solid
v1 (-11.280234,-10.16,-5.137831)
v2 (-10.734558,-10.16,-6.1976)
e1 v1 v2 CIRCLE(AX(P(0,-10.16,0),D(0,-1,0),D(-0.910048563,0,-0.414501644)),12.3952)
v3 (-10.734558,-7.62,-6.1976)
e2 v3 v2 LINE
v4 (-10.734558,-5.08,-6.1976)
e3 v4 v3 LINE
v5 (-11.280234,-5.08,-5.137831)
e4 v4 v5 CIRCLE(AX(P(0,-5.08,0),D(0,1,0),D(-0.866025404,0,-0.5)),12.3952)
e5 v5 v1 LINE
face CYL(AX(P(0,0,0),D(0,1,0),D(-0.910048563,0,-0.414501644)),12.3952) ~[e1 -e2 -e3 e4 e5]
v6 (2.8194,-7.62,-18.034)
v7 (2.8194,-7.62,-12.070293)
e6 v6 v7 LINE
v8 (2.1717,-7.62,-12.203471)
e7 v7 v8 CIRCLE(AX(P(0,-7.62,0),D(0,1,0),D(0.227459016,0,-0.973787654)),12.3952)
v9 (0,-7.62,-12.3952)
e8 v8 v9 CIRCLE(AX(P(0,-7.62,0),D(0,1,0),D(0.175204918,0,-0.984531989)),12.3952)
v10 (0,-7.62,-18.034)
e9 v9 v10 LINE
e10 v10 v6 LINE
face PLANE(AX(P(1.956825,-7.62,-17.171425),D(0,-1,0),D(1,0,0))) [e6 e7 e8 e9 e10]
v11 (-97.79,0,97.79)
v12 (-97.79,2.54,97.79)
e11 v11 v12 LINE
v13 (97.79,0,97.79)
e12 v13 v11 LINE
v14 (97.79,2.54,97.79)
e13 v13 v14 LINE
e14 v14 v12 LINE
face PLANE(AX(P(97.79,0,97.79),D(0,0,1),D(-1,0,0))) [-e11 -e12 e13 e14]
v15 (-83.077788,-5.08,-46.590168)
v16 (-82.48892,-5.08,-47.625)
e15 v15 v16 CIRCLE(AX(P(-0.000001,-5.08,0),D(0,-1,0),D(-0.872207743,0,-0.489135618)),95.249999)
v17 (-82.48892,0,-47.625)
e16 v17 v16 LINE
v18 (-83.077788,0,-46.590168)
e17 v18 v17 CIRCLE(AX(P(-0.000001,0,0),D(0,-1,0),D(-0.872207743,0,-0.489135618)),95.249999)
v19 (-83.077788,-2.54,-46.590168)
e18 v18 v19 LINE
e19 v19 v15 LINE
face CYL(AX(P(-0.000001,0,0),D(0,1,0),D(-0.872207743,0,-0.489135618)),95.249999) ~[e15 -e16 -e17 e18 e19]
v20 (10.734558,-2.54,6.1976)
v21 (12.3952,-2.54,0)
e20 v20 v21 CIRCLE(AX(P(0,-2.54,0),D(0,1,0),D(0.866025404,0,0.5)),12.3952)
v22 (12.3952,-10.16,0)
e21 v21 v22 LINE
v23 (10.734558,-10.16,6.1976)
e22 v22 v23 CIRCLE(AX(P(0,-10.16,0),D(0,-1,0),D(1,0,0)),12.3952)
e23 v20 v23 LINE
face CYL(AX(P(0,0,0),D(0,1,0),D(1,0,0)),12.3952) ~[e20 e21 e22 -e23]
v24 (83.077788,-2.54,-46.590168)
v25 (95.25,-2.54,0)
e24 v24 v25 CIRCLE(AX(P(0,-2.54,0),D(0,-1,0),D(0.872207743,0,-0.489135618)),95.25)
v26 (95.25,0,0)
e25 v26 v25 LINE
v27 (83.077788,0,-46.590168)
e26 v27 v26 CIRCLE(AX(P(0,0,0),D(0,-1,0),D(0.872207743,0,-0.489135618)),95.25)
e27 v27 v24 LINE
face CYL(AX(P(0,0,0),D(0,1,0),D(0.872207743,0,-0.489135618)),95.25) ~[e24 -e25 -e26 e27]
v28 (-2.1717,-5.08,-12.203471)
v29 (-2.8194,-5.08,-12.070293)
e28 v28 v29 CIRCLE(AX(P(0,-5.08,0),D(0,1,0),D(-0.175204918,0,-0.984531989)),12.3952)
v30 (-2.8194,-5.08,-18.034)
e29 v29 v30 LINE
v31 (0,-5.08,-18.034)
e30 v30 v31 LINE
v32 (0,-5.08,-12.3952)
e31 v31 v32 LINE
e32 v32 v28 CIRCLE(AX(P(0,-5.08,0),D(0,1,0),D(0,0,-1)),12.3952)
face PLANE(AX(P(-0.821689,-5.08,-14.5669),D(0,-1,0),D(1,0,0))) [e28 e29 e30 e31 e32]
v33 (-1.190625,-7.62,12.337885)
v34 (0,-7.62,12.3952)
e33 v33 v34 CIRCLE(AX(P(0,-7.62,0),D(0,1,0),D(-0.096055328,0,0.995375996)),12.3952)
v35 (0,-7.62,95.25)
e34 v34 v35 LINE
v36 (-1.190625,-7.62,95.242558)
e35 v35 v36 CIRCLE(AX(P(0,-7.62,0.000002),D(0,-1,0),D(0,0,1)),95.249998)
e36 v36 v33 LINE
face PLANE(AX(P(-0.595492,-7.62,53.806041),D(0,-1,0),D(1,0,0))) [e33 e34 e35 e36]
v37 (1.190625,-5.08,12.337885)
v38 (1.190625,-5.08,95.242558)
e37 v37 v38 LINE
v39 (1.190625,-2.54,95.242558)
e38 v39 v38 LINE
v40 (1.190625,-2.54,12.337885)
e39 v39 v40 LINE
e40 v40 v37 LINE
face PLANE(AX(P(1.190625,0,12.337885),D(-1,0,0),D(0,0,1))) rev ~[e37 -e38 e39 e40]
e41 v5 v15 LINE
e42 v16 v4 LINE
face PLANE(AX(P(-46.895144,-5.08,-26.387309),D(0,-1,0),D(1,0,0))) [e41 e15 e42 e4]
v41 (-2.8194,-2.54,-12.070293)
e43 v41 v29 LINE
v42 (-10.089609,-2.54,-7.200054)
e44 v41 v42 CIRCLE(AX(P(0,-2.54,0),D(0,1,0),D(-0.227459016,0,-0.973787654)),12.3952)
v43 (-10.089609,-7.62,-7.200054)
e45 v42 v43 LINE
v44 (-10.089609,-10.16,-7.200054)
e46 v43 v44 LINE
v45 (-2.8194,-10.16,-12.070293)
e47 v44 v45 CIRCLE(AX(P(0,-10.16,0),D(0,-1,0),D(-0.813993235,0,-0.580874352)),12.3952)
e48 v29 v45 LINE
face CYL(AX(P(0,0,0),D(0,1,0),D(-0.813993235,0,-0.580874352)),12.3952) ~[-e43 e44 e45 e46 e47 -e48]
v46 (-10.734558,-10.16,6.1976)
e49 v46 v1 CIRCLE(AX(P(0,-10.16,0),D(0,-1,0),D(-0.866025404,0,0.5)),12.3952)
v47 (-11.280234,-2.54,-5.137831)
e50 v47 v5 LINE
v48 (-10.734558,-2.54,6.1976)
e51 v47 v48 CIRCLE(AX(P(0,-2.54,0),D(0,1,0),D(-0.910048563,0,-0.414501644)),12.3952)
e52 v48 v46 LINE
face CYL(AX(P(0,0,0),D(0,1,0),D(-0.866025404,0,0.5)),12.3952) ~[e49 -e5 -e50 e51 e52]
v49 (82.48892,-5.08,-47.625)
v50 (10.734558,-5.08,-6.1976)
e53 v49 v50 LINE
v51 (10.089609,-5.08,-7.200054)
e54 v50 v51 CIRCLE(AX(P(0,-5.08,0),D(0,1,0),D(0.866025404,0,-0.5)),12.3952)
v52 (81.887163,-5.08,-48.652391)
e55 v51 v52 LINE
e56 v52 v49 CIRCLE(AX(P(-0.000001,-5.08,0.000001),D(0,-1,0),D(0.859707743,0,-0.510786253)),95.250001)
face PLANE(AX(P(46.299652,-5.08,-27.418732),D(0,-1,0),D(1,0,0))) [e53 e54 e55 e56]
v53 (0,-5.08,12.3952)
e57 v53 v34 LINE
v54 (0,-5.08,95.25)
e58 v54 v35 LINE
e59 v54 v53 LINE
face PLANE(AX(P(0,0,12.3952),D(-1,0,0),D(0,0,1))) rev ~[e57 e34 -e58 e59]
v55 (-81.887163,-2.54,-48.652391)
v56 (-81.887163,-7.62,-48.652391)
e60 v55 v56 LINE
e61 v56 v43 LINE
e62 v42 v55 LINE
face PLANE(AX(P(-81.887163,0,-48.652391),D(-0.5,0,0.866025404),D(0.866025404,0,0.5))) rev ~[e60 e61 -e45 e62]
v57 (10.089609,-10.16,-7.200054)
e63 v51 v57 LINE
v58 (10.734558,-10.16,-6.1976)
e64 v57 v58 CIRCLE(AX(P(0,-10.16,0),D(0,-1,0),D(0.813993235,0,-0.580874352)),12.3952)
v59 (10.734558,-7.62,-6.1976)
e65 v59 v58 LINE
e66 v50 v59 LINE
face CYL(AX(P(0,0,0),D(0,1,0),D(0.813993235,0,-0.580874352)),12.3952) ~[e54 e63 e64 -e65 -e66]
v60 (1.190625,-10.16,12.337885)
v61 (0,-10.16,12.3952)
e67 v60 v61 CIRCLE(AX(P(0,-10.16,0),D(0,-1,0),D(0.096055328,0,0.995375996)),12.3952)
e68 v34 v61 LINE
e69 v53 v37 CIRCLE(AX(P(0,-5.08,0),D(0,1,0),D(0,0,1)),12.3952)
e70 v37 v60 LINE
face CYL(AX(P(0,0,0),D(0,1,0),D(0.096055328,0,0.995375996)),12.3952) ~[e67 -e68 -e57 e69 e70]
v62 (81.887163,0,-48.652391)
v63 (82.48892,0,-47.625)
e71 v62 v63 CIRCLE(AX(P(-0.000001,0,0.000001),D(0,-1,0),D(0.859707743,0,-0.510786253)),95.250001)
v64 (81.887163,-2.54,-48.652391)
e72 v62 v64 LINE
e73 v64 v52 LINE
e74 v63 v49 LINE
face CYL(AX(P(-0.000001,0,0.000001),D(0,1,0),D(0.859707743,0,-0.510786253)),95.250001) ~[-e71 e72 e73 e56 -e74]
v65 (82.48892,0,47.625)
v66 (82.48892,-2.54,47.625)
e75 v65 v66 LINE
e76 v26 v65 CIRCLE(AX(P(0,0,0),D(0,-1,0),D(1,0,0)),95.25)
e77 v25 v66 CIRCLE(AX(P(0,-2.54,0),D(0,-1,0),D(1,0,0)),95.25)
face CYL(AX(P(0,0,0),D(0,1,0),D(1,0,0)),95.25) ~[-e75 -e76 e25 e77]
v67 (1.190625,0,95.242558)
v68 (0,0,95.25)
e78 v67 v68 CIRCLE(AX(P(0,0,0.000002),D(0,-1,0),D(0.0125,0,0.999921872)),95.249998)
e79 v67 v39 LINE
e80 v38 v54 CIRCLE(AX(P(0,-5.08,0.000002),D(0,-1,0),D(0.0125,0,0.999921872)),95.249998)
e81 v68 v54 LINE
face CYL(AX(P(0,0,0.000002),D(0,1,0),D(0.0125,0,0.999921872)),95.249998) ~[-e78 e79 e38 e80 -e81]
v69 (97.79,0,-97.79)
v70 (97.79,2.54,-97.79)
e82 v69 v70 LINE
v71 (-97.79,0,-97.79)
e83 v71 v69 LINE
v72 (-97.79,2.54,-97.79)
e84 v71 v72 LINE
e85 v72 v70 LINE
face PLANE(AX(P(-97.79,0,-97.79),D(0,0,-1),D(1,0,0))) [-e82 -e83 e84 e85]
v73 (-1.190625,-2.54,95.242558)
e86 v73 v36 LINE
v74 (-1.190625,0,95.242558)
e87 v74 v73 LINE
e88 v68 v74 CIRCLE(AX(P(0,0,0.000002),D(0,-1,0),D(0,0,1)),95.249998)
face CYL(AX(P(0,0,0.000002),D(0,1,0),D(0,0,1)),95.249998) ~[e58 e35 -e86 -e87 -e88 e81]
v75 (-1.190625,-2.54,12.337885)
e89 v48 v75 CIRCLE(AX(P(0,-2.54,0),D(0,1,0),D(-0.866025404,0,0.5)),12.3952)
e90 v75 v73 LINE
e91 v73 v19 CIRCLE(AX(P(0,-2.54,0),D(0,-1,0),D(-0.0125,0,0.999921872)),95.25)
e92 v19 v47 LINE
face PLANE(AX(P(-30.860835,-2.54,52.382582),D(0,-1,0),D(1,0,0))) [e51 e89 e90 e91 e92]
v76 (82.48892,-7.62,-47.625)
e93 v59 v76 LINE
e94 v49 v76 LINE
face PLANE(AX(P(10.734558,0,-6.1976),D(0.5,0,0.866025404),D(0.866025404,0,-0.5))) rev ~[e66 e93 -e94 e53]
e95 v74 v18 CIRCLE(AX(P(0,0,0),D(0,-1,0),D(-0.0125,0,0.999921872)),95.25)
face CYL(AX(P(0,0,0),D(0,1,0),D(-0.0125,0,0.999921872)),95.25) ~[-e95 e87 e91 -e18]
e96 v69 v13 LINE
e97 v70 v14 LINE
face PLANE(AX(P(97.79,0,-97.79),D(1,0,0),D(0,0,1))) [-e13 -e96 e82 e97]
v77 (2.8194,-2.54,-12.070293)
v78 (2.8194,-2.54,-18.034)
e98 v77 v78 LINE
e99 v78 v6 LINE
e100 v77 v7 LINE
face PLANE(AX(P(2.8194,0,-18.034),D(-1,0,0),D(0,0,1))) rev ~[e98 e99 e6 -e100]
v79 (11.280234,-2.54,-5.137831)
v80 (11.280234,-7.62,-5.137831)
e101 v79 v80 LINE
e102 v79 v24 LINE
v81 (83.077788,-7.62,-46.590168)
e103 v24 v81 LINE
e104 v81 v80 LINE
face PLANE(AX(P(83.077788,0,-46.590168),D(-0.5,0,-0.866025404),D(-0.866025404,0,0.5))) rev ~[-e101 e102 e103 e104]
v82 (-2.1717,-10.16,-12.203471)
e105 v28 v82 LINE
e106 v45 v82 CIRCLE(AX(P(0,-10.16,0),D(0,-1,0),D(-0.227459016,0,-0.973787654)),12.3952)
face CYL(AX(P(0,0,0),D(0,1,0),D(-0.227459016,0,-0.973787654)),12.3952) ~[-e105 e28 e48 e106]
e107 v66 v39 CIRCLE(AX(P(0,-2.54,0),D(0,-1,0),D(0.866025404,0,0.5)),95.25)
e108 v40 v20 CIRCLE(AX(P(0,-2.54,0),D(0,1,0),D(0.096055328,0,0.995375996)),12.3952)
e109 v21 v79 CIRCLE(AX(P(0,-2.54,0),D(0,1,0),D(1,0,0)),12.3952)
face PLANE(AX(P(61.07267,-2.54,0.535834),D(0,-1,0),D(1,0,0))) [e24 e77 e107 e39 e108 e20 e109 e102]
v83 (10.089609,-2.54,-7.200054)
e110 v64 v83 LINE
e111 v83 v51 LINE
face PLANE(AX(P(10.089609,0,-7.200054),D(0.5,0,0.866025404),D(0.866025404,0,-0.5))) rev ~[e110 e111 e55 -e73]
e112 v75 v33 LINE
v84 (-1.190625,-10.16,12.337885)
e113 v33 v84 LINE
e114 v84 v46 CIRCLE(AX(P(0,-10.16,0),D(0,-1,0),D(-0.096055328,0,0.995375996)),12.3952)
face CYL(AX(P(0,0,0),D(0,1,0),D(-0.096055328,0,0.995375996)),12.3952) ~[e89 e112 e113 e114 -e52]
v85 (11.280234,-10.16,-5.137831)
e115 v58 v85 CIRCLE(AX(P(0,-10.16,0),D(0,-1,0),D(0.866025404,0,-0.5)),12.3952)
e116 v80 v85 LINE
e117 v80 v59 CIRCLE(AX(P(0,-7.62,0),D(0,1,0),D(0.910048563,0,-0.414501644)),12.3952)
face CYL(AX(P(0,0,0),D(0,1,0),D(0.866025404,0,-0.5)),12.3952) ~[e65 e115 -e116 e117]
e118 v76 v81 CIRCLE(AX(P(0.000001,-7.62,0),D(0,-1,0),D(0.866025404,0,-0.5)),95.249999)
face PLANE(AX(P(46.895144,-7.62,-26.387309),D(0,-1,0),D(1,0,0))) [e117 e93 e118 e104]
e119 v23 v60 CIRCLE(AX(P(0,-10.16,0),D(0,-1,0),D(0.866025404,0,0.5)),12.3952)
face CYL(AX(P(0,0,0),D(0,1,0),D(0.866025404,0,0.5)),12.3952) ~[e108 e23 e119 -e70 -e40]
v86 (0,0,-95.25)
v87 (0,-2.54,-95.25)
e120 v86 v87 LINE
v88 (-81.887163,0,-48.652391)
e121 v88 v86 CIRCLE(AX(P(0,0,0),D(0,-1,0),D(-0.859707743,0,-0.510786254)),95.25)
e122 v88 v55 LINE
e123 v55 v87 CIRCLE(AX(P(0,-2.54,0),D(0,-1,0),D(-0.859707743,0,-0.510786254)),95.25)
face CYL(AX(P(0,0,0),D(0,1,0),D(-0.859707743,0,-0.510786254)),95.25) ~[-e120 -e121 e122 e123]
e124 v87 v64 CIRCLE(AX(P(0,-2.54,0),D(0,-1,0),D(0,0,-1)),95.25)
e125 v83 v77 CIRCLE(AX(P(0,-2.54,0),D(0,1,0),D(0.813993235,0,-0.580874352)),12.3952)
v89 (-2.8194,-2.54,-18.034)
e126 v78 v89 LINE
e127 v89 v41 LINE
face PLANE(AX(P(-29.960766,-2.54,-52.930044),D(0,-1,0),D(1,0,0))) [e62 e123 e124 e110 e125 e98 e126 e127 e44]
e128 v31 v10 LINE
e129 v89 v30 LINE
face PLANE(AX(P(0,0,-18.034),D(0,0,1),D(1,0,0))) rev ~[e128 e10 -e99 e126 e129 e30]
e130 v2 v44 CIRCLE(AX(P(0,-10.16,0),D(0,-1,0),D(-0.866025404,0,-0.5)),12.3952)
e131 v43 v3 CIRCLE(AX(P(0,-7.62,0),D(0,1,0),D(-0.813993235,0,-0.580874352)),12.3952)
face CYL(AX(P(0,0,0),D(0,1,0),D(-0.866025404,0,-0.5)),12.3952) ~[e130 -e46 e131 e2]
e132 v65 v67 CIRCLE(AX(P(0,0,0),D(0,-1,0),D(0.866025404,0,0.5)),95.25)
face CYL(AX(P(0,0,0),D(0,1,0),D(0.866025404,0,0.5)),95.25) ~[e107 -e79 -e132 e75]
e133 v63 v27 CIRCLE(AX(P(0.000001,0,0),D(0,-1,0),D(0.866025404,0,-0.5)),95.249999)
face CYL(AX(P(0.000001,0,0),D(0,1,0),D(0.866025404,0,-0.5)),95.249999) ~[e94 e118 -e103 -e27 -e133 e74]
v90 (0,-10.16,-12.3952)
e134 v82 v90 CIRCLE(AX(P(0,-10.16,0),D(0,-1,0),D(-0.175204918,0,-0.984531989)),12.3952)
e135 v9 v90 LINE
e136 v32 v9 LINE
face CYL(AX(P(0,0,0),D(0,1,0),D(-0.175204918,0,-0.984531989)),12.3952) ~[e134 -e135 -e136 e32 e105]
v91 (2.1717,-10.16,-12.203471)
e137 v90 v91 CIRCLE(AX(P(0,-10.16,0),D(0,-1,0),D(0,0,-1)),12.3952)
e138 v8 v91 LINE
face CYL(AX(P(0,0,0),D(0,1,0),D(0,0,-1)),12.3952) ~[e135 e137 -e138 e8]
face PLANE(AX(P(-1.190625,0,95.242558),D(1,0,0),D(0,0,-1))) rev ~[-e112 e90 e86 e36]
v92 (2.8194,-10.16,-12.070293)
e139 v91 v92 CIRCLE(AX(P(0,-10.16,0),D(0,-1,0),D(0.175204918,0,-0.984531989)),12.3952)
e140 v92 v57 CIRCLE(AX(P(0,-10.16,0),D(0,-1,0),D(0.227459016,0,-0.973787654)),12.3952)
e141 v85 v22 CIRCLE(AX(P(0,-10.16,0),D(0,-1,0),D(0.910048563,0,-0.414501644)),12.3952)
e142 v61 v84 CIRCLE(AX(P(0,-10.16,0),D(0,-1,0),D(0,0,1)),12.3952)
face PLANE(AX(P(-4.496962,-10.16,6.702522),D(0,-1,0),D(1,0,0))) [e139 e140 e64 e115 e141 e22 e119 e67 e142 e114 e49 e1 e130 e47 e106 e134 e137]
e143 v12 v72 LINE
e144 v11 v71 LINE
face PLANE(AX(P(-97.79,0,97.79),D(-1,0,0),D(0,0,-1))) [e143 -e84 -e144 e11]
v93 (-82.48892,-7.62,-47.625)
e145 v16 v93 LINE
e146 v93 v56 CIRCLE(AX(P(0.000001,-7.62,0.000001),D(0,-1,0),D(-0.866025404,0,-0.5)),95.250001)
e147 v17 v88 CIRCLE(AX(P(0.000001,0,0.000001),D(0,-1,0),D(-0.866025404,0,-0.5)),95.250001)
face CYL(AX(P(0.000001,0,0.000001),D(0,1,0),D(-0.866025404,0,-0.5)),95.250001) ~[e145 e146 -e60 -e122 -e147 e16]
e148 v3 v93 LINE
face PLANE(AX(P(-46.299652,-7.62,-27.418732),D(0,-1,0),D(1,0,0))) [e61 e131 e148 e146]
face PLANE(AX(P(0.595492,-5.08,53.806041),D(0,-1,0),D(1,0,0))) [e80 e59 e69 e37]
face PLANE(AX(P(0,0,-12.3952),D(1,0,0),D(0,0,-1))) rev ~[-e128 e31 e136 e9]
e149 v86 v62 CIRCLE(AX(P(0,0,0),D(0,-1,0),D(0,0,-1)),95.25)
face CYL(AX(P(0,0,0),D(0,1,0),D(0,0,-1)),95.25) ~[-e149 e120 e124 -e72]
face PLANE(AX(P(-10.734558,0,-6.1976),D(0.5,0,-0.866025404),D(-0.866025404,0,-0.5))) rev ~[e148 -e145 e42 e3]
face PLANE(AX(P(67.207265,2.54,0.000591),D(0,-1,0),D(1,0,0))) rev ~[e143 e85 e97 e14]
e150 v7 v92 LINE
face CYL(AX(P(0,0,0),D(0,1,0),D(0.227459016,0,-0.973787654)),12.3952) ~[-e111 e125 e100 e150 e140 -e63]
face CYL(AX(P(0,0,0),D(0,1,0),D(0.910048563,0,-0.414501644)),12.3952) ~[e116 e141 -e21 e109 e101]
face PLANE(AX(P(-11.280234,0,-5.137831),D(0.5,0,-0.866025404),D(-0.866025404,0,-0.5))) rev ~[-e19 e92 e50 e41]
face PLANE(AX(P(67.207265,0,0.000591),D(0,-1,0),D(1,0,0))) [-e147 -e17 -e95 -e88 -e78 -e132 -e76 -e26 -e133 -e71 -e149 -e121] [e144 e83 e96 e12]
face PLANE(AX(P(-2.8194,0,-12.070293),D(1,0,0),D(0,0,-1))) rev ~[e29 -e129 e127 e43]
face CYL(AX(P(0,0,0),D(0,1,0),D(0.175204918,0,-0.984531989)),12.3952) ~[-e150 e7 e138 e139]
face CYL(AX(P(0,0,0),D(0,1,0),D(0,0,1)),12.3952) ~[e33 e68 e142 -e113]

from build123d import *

# Parameters (mm, degrees)
F1_DEPTH = 2.54
F2_DEPTH = 5.08
F3_DEPTH = 2.54
F4_DEPTH = 7.62
F5_DEPTH = 10.16


with BuildPart() as f1:
    # F0 (on Front) → F1 (new body)
    with BuildSketch(Plane.XZ):
        with BuildLine():
            ThreePointArc((82.4889197105, 47.625), (92.004434954, 24.652514046), (95.25, 0))
            ThreePointArc((95.25, 0), (92.156719127, -24.0769935778), (83.0777875119, -46.5901676551))
            ThreePointArc((83.0777875119, -46.5901676551), (82.7849705841, -47.1085039605), (82.4889197105, -47.625))
            ThreePointArc((82.4889197105, -47.625), (82.1896464561, -48.1396355971), (81.8871625119, -48.6523906479))
            ThreePointArc((81.8871625119, -48.6523906479), (47.1085039605, -82.7849705841), (0, -95.25))
            Line((0, -95.25), (0, -97.79))
            Line((0, -97.79), (97.79, -97.79))
            Line((97.79, -97.79), (97.79, 97.79))
            Line((97.79, 97.79), (0, 97.79))
            Line((0, 97.79), (0, 95.25))
            ThreePointArc((0, 95.25), (0.595324128, 95.2481395576), (1.190625, 95.242558303))
            ThreePointArc((1.190625, 95.242558303), (48.1396355971, 82.1896464561), (82.4889197105, 47.625))
        make_face()
        with BuildLine():
            ThreePointArc((-1.190625, 95.242558303), (-0.595324128, 95.2481395576), (0, 95.25))
            Line((0, 95.25), (0, 97.79))
            Line((0, 97.79), (-97.79, 97.79))
            Line((-97.79, 97.79), (-97.79, -97.79))
            Line((-97.79, -97.79), (0, -97.79))
            Line((0, -97.79), (0, -95.25))
            ThreePointArc((0, -95.25), (-47.1085039605, -82.7849705841), (-81.8871625119, -48.6523906479))
            ThreePointArc((-81.8871625119, -48.6523906479), (-82.1896464561, -48.1396355971), (-82.4889197105, -47.625))
            ThreePointArc((-82.4889197105, -47.625), (-82.7849705841, -47.1085039605), (-83.0777875119, -46.5901676551))
            ThreePointArc((-83.0777875119, -46.5901676551), (-95.2481395576, 0.595324128), (-82.4889197105, 47.625))
            ThreePointArc((-82.4889197105, 47.625), (-48.1396355971, 82.1896464561), (-1.190625, 95.242558303))
        make_face()
        with BuildLine():
            Line((-1.190625, 12.3378845492), (-1.190625, 95.242558303))
            ThreePointArc((-1.190625, 95.242558303), (-48.1396355971, 82.1896464561), (-82.4889197105, 47.625))
            Line((-82.4889197105, 47.625), (-10.734558085, 6.1976))
            ThreePointArc((-10.734558085, 6.1976), (-6.7065841894, 10.4241408064), (-1.190625, 12.3378845492))
        make_face()
        with BuildLine():
            Line((0, -12.3952), (0, -1.3748153285))
            Line((0, -1.3748153285), (-2.1717, -2.6286469081))
            Line((-2.1717, -2.6286469081), (-2.1717, -12.2034709059))
            ThreePointArc((-2.1717, -12.2034709059), (-1.0900734993, -12.3471746892), (0, -12.3952))
        make_face()
        with BuildLine():
            ThreePointArc((0, -95.25), (47.1085039605, -82.7849705841), (81.8871625119, -48.6523906479))
            Line((81.8871625119, -48.6523906479), (10.0896089486, -7.200053771))
            ThreePointArc((10.0896089486, -7.200053771), (6.8985820933, -10.2980846832), (2.8194, -12.0702927338))
            Line((2.8194, -12.0702927338), (2.8194, -15.2146))
            Line((2.8194, -15.2146), (2.8194, -18.034))
            Line((2.8194, -18.034), (0, -18.034))
            Line((0, -18.034), (0, -95.25))
        make_face()
        with BuildLine():
            Line((1.190625, 0.6874076643), (10.734558085, 6.1976))
            ThreePointArc((10.734558085, 6.1976), (6.7065841894, 10.4241408064), (1.190625, 12.3378845492))
            Line((1.190625, 12.3378845492), (1.190625, 0.6874076643))
        make_face()
        with BuildLine():
            Line((-1.190625, 0.6874076643), (-1.190625, 12.3378845492))
            ThreePointArc((-1.190625, 12.3378845492), (-6.7065841894, 10.4241408064), (-10.734558085, 6.1976))
            Line((-10.734558085, 6.1976), (-1.190625, 0.6874076643))
        make_face()
        with BuildLine():
            Line((-2.8194, -3.0025966775), (-10.0896089486, -7.200053771))
            ThreePointArc((-10.0896089486, -7.200053771), (-6.8985820933, -10.2980846832), (-2.8194, -12.0702927338))
            Line((-2.8194, -12.0702927338), (-2.8194, -3.0025966775))
        make_face()
        with BuildLine():
            ThreePointArc((2.8194, -12.0702927338), (6.8985820933, -10.2980846832), (10.0896089486, -7.200053771))
            Line((10.0896089486, -7.200053771), (2.8194, -3.0025966775))
            Line((2.8194, -3.0025966775), (2.8194, -12.0702927338))
        make_face()
        with BuildLine():
            ThreePointArc((-81.8871625119, -48.6523906479), (-47.1085039605, -82.7849705841), (0, -95.25))
            Line((0, -95.25), (0, -18.034))
            Line((0, -18.034), (-2.8194, -18.034))
            Line((-2.8194, -18.034), (-2.8194, -15.2146))
            Line((-2.8194, -15.2146), (-2.8194, -12.0702927338))
            ThreePointArc((-2.8194, -12.0702927338), (-6.8985820933, -10.2980846832), (-10.0896089486, -7.200053771))
            Line((-10.0896089486, -7.200053771), (-81.8871625119, -48.6523906479))
        make_face()
        with BuildLine():
            Line((-10.734558085, 6.1976), (-82.4889197105, 47.625))
            ThreePointArc((-82.4889197105, 47.625), (-95.2481395576, 0.595324128), (-83.0777875119, -46.5901676551))
            Line((-83.0777875119, -46.5901676551), (-11.2802339486, -5.1378307782))
            ThreePointArc((-11.2802339486, -5.1378307782), (-12.3808628456, 0.5960018774), (-10.734558085, 6.1976))
        make_face()
        with BuildLine():
            Line((-2.8194, -0.2529660204), (-1.190625, 0.6874076643))
            Line((-1.190625, 0.6874076643), (-10.734558085, 6.1976))
            ThreePointArc((-10.734558085, 6.1976), (-12.3808628456, 0.5960018774), (-11.2802339486, -5.1378307782))
            Line((-11.2802339486, -5.1378307782), (-2.8194, -0.2529660204))
        make_face()
        with BuildLine():
            ThreePointArc((83.0777875119, -46.5901676551), (92.156719127, -24.0769935778), (95.25, 0))
            ThreePointArc((95.25, 0), (92.004434954, 24.652514046), (82.4889197105, 47.625))
            Line((82.4889197105, 47.625), (10.734558085, 6.1976))
            ThreePointArc((10.734558085, 6.1976), (11.972843802, 3.2081138279), (12.3952, 0))
            ThreePointArc((12.3952, 0), (12.1132518111, -2.6287094933), (11.2802339486, -5.1378307782))
            Line((11.2802339486, -5.1378307782), (83.0777875119, -46.5901676551))
        make_face()
        with BuildLine():
            Line((10.734558085, 6.1976), (82.4889197105, 47.625))
            ThreePointArc((82.4889197105, 47.625), (48.1396355971, 82.1896464561), (1.190625, 95.242558303))
            Line((1.190625, 95.242558303), (1.190625, 12.3378845492))
            ThreePointArc((1.190625, 12.3378845492), (6.7065841894, 10.4241408064), (10.734558085, 6.1976))
        make_face()
        with BuildLine():
            ThreePointArc((12.3952, 0), (11.972843802, 3.2081138279), (10.734558085, 6.1976))
            Line((10.734558085, 6.1976), (1.190625, 0.6874076643))
            Line((1.190625, 0.6874076643), (2.8194, -0.2529660204))
            Line((2.8194, -0.2529660204), (11.2802339486, -5.1378307782))
            ThreePointArc((11.2802339486, -5.1378307782), (12.1132518111, -2.6287094933), (12.3952, 0))
        make_face()
        with BuildLine():
            Line((2.1717, -2.6286469081), (0, -1.3748153285))
            Line((0, -1.3748153285), (0, -12.3952))
            ThreePointArc((0, -12.3952), (1.0900734993, -12.3471746892), (2.1717, -12.2034709059))
            Line((2.1717, -12.2034709059), (2.1717, -2.6286469081))
        make_face()
        with BuildLine():
            ThreePointArc((-2.1717, -13.4166190574), (-1.199956018, -12.6633019157), (0, -12.3952))
            ThreePointArc((0, -12.3952), (-1.0900734993, -12.3471746892), (-2.1717, -12.2034709059))
            Line((-2.1717, -12.2034709059), (-2.1717, -13.4166190574))
        make_face()
        with BuildLine():
            ThreePointArc((10.734558085, -6.1976), (11.0201426838, -5.6742786563), (11.2802339486, -5.1378307782))
            Line((11.2802339486, -5.1378307782), (2.8194, -0.2529660204))
            Line((2.8194, -0.2529660204), (2.8194, -1.627781349))
            Line((2.8194, -1.627781349), (10.734558085, -6.1976))
        make_face()
        with BuildLine():
            Line((-2.1717, -12.2034709059), (-2.1717, -2.6286469081))
            Line((-2.1717, -2.6286469081), (-2.8194, -3.0025966775))
            Line((-2.8194, -3.0025966775), (-2.8194, -12.0702927338))
            ThreePointArc((-2.8194, -12.0702927338), (-2.4964382446, -12.1412017169), (-2.1717, -12.2034709059))
        make_face()
        with BuildLine():
            Line((-10.734558085, -6.1976), (-2.8194, -1.627781349))
            Line((-2.8194, -1.627781349), (-2.8194, -0.2529660204))
            Line((-2.8194, -0.2529660204), (-11.2802339486, -5.1378307782))
            ThreePointArc((-11.2802339486, -5.1378307782), (-11.0201426838, -5.6742786563), (-10.734558085, -6.1976))
        make_face()
        with BuildLine():
            Line((1.190625, 0.6874076643), (1.190625, 12.3378845492))
            ThreePointArc((1.190625, 12.3378845492), (0.5960018774, 12.3808628456), (0, 12.3952))
            Line((0, 12.3952), (0, 0))
            Line((0, 0), (1.190625, 0.6874076643))
        make_face()
        with BuildLine():
            Line((-11.2802339486, -5.1378307782), (-83.0777875119, -46.5901676551))
            ThreePointArc((-83.0777875119, -46.5901676551), (-82.7849705841, -47.1085039605), (-82.4889197105, -47.625))
            Line((-82.4889197105, -47.625), (-10.734558085, -6.1976))
            ThreePointArc((-10.734558085, -6.1976), (-11.0201426838, -5.6742786563), (-11.2802339486, -5.1378307782))
        make_face()
        with BuildLine():
            Line((0, 0), (0, 12.3952))
            ThreePointArc((0, 12.3952), (-0.5960018774, 12.3808628456), (-1.190625, 12.3378845492))
            Line((-1.190625, 12.3378845492), (-1.190625, 0.6874076643))
            Line((-1.190625, 0.6874076643), (0, 0))
        make_face()
        with BuildLine():
            ThreePointArc((-82.4889197105, -47.625), (-82.1896464561, -48.1396355971), (-81.8871625119, -48.6523906479))
            Line((-81.8871625119, -48.6523906479), (-10.0896089486, -7.200053771))
            ThreePointArc((-10.0896089486, -7.200053771), (-10.4241408064, -6.7065841894), (-10.734558085, -6.1976))
            Line((-10.734558085, -6.1976), (-82.4889197105, -47.625))
        make_face()
        Polygon((-2.1717, -2.6286469081), (-2.1717, -1.2538315796), (-2.8194, -1.627781349), (-2.8194, -3.0025966775), align=None)
        with BuildLine():
            Line((0, 12.3952), (0, 95.25))
            ThreePointArc((0, 95.25), (-0.595324128, 95.2481395576), (-1.190625, 95.242558303))
            Line((-1.190625, 95.242558303), (-1.190625, 12.3378845492))
            ThreePointArc((-1.190625, 12.3378845492), (-0.5960018774, 12.3808628456), (0, 12.3952))
        make_face()
        with BuildLine():
            ThreePointArc((10.0896089486, -7.200053771), (10.4241408064, -6.7065841894), (10.734558085, -6.1976))
            Line((10.734558085, -6.1976), (2.8194, -1.627781349))
            Line((2.8194, -1.627781349), (2.8194, -3.0025966775))
            Line((2.8194, -3.0025966775), (10.0896089486, -7.200053771))
        make_face()
        with BuildLine():
            Line((-2.8194, -3.0025966775), (-2.8194, -1.627781349))
            Line((-2.8194, -1.627781349), (-10.734558085, -6.1976))
            ThreePointArc((-10.734558085, -6.1976), (-10.4241408064, -6.7065841894), (-10.0896089486, -7.200053771))
            Line((-10.0896089486, -7.200053771), (-2.8194, -3.0025966775))
        make_face()
        with BuildLine():
            ThreePointArc((82.4889197105, -47.625), (82.7849705841, -47.1085039605), (83.0777875119, -46.5901676551))
            Line((83.0777875119, -46.5901676551), (11.2802339486, -5.1378307782))
            ThreePointArc((11.2802339486, -5.1378307782), (11.0201426838, -5.6742786563), (10.734558085, -6.1976))
            Line((10.734558085, -6.1976), (82.4889197105, -47.625))
        make_face()
        with BuildLine():
            ThreePointArc((81.8871625119, -48.6523906479), (82.1896464561, -48.1396355971), (82.4889197105, -47.625))
            Line((82.4889197105, -47.625), (10.734558085, -6.1976))
            ThreePointArc((10.734558085, -6.1976), (10.4241408064, -6.7065841894), (10.0896089486, -7.200053771))
            Line((10.0896089486, -7.200053771), (81.8871625119, -48.6523906479))
        make_face()
        with BuildLine():
            Line((1.190625, 12.3378845492), (1.190625, 95.242558303))
            ThreePointArc((1.190625, 95.242558303), (0.595324128, 95.2481395576), (0, 95.25))
            Line((0, 95.25), (0, 12.3952))
            ThreePointArc((0, 12.3952), (0.5960018774, 12.3808628456), (1.190625, 12.3378845492))
        make_face()
        Polygon((2.1717, -1.2538315796), (0, 0), (0, -1.3748153285), (2.1717, -2.6286469081), align=None)
        Polygon((2.8194, -3.0025966775), (2.8194, -1.627781349), (2.1717, -1.2538315796), (2.1717, -2.6286469081), align=None)
        with BuildLine():
            ThreePointArc((2.1717, -14.5669), (1.5356237967, -13.0312762033), (0, -12.3952))
            Line((0, -12.3952), (0, -16.7386))
            ThreePointArc((0, -16.7386), (1.5356237967, -16.1025237967), (2.1717, -14.5669))
        make_face()
        Polygon((0, -1.3748153285), (0, 0), (-2.1717, -1.2538315796), (-2.1717, -2.6286469081), align=None)
        with BuildLine():
            ThreePointArc((2.1717, -12.2034709059), (2.4964382446, -12.1412017169), (2.8194, -12.0702927338))
            Line((2.8194, -12.0702927338), (2.8194, -3.0025966775))
            Line((2.8194, -3.0025966775), (2.1717, -2.6286469081))
            Line((2.1717, -2.6286469081), (2.1717, -12.2034709059))
        make_face()
        with BuildLine():
            Line((-2.8194, -12.0702927338), (-2.8194, -15.2146))
            ThreePointArc((-2.8194, -15.2146), (-2.6525372137, -14.2590568613), (-2.1717, -13.4166190574))
            Line((-2.1717, -13.4166190574), (-2.1717, -12.2034709059))
            ThreePointArc((-2.1717, -12.2034709059), (-2.4964382446, -12.1412017169), (-2.8194, -12.0702927338))
        make_face()
        with BuildLine():
            Line((2.8194, -15.2146), (2.8194, -12.0702927338))
            ThreePointArc((2.8194, -12.0702927338), (2.4964382446, -12.1412017169), (2.1717, -12.2034709059))
            Line((2.1717, -12.2034709059), (2.1717, -13.4166190574))
            ThreePointArc((2.1717, -13.4166190574), (2.6525372137, -14.2590568613), (2.8194, -15.2146))
        make_face()
        with BuildLine():
            Line((-2.1717, -16.7386), (0, -16.7386))
            ThreePointArc((0, -16.7386), (-1.5356237967, -16.1025237967), (-2.1717, -14.5669))
            Line((-2.1717, -14.5669), (-2.1717, -16.7386))
        make_face()
        with BuildLine():
            ThreePointArc((2.1717, -13.4166190574), (1.199956018, -12.6633019157), (0, -12.3952))
            ThreePointArc((0, -12.3952), (1.5356237967, -13.0312762033), (2.1717, -14.5669))
            Line((2.1717, -14.5669), (2.1717, -13.4166190574))
        make_face()
        with BuildLine():
            ThreePointArc((2.1717, -12.2034709059), (1.0900734993, -12.3471746892), (0, -12.3952))
            ThreePointArc((0, -12.3952), (1.199956018, -12.6633019157), (2.1717, -13.4166190574))
            Line((2.1717, -13.4166190574), (2.1717, -12.2034709059))
        make_face()
        with BuildLine():
            ThreePointArc((-2.8194, -15.2146), (-1.9936168589, -17.2082168589), (0, -18.034))
            Line((0, -18.034), (0, -16.7386))
            Line((0, -16.7386), (-2.1717, -16.7386))
            Line((-2.1717, -16.7386), (-2.1717, -14.5669))
            Line((-2.1717, -14.5669), (-2.1717, -13.4166190574))
            ThreePointArc((-2.1717, -13.4166190574), (-2.6525372137, -14.2590568613), (-2.8194, -15.2146))
        make_face()
        with BuildLine():
            ThreePointArc((-2.1717, -14.5669), (-1.5356237967, -13.0312762033), (0, -12.3952))
            ThreePointArc((0, -12.3952), (-1.199956018, -12.6633019157), (-2.1717, -13.4166190574))
            Line((-2.1717, -13.4166190574), (-2.1717, -14.5669))
        make_face()
        with BuildLine():
            Line((0, -16.7386), (0, -18.034))
            ThreePointArc((0, -18.034), (1.9936168589, -17.2082168589), (2.8194, -15.2146))
            ThreePointArc((2.8194, -15.2146), (2.6525372137, -14.2590568613), (2.1717, -13.4166190574))
            Line((2.1717, -13.4166190574), (2.1717, -14.5669))
            Line((2.1717, -14.5669), (2.1717, -16.7386))
            Line((2.1717, -16.7386), (0, -16.7386))
        make_face()
        with BuildLine():
            Line((0, -16.7386), (0, -12.3952))
            ThreePointArc((0, -12.3952), (-1.5356237967, -13.0312762033), (-2.1717, -14.5669))
            ThreePointArc((-2.1717, -14.5669), (-1.5356237967, -16.1025237967), (0, -16.7386))
        make_face()
        with BuildLine():
            ThreePointArc((2.1717, -14.5669), (1.5356237967, -16.1025237967), (0, -16.7386))
            Line((0, -16.7386), (2.1717, -16.7386))
            Line((2.1717, -16.7386), (2.1717, -14.5669))
        make_face()
        with BuildLine():
            Line((-2.8194, -18.034), (0, -18.034))
            ThreePointArc((0, -18.034), (-1.9936168589, -17.2082168589), (-2.8194, -15.2146))
            Line((-2.8194, -15.2146), (-2.8194, -18.034))
        make_face()
        with BuildLine():
            ThreePointArc((2.8194, -15.2146), (1.9936168589, -17.2082168589), (0, -18.034))
            Line((0, -18.034), (2.8194, -18.034))
            Line((2.8194, -18.034), (2.8194, -15.2146))
        make_face()
        Polygon((2.8194, -0.2529660204), (1.190625, 0.6874076643), (0, 0), (2.1717, -1.2538315796), (2.8194, -1.627781349), align=None)
        Polygon((-2.1717, -1.2538315796), (0, 0), (-1.190625, 0.6874076643), (-2.8194, -0.2529660204), (-2.8194, -1.627781349), align=None)
    extrude(amount=-F1_DEPTH)

    # F0 (on Front) → F2 (join)
    with BuildSketch(Plane.XZ):
        with BuildLine():
            Line((1.190625, 12.3378845492), (1.190625, 95.242558303))
            ThreePointArc((1.190625, 95.242558303), (0.595324128, 95.2481395576), (0, 95.25))
            Line((0, 95.25), (0, 12.3952))
            ThreePointArc((0, 12.3952), (0.5960018774, 12.3808628456), (1.190625, 12.3378845492))
        make_face()
        with BuildLine():
            Line((-11.2802339486, -5.1378307782), (-83.0777875119, -46.5901676551))
            ThreePointArc((-83.0777875119, -46.5901676551), (-82.7849705841, -47.1085039605), (-82.4889197105, -47.625))
            Line((-82.4889197105, -47.625), (-10.734558085, -6.1976))
            ThreePointArc((-10.734558085, -6.1976), (-11.0201426838, -5.6742786563), (-11.2802339486, -5.1378307782))
        make_face()
        with BuildLine():
            ThreePointArc((81.8871625119, -48.6523906479), (82.1896464561, -48.1396355971), (82.4889197105, -47.625))
            Line((82.4889197105, -47.625), (10.734558085, -6.1976))
            ThreePointArc((10.734558085, -6.1976), (10.4241408064, -6.7065841894), (10.0896089486, -7.200053771))
            Line((10.0896089486, -7.200053771), (81.8871625119, -48.6523906479))
        make_face()
        with BuildLine():
            Line((0, -16.7386), (0, -12.3952))
            ThreePointArc((0, -12.3952), (-1.5356237967, -13.0312762033), (-2.1717, -14.5669))
            ThreePointArc((-2.1717, -14.5669), (-1.5356237967, -16.1025237967), (0, -16.7386))
        make_face()
        with BuildLine():
            ThreePointArc((-2.1717, -14.5669), (-1.5356237967, -13.0312762033), (0, -12.3952))
            ThreePointArc((0, -12.3952), (-1.199956018, -12.6633019157), (-2.1717, -13.4166190574))
            Line((-2.1717, -13.4166190574), (-2.1717, -14.5669))
        make_face()
        with BuildLine():
            ThreePointArc((-2.1717, -13.4166190574), (-1.199956018, -12.6633019157), (0, -12.3952))
            ThreePointArc((0, -12.3952), (-1.0900734993, -12.3471746892), (-2.1717, -12.2034709059))
            Line((-2.1717, -12.2034709059), (-2.1717, -13.4166190574))
        make_face()
        with BuildLine():
            Line((-2.8194, -12.0702927338), (-2.8194, -15.2146))
            ThreePointArc((-2.8194, -15.2146), (-2.6525372137, -14.2590568613), (-2.1717, -13.4166190574))
            Line((-2.1717, -13.4166190574), (-2.1717, -12.2034709059))
            ThreePointArc((-2.1717, -12.2034709059), (-2.4964382446, -12.1412017169), (-2.8194, -12.0702927338))
        make_face()
        with BuildLine():
            ThreePointArc((-2.8194, -15.2146), (-1.9936168589, -17.2082168589), (0, -18.034))
            Line((0, -18.034), (0, -16.7386))
            Line((0, -16.7386), (-2.1717, -16.7386))
            Line((-2.1717, -16.7386), (-2.1717, -14.5669))
            Line((-2.1717, -14.5669), (-2.1717, -13.4166190574))
            ThreePointArc((-2.1717, -13.4166190574), (-2.6525372137, -14.2590568613), (-2.8194, -15.2146))
        make_face()
        with BuildLine():
            Line((-2.1717, -16.7386), (0, -16.7386))
            ThreePointArc((0, -16.7386), (-1.5356237967, -16.1025237967), (-2.1717, -14.5669))
            Line((-2.1717, -14.5669), (-2.1717, -16.7386))
        make_face()
        with BuildLine():
            Line((-2.8194, -18.034), (0, -18.034))
            ThreePointArc((0, -18.034), (-1.9936168589, -17.2082168589), (-2.8194, -15.2146))
            Line((-2.8194, -15.2146), (-2.8194, -18.034))
        make_face()
    extrude(amount=F2_DEPTH)

    # F0 (on Front) → F3 (join)
    with BuildSketch(Plane.XZ):
        with BuildLine():
            ThreePointArc((-81.8871625119, -48.6523906479), (-47.1085039605, -82.7849705841), (0, -95.25))
            Line((0, -95.25), (0, -18.034))
            Line((0, -18.034), (-2.8194, -18.034))
            Line((-2.8194, -18.034), (-2.8194, -15.2146))
            Line((-2.8194, -15.2146), (-2.8194, -12.0702927338))
            ThreePointArc((-2.8194, -12.0702927338), (-6.8985820933, -10.2980846832), (-10.0896089486, -7.200053771))
            Line((-10.0896089486, -7.200053771), (-81.8871625119, -48.6523906479))
        make_face()
        with BuildLine():
            ThreePointArc((0, -95.25), (47.1085039605, -82.7849705841), (81.8871625119, -48.6523906479))
            Line((81.8871625119, -48.6523906479), (10.0896089486, -7.200053771))
            ThreePointArc((10.0896089486, -7.200053771), (6.8985820933, -10.2980846832), (2.8194, -12.0702927338))
            Line((2.8194, -12.0702927338), (2.8194, -15.2146))
            Line((2.8194, -15.2146), (2.8194, -18.034))
            Line((2.8194, -18.034), (0, -18.034))
            Line((0, -18.034), (0, -95.25))
        make_face()
        with BuildLine():
            ThreePointArc((83.0777875119, -46.5901676551), (92.156719127, -24.0769935778), (95.25, 0))
            ThreePointArc((95.25, 0), (92.004434954, 24.652514046), (82.4889197105, 47.625))
            Line((82.4889197105, 47.625), (10.734558085, 6.1976))
            ThreePointArc((10.734558085, 6.1976), (11.972843802, 3.2081138279), (12.3952, 0))
            ThreePointArc((12.3952, 0), (12.1132518111, -2.6287094933), (11.2802339486, -5.1378307782))
            Line((11.2802339486, -5.1378307782), (83.0777875119, -46.5901676551))
        make_face()
        with BuildLine():
            Line((10.734558085, 6.1976), (82.4889197105, 47.625))
            ThreePointArc((82.4889197105, 47.625), (48.1396355971, 82.1896464561), (1.190625, 95.242558303))
            Line((1.190625, 95.242558303), (1.190625, 12.3378845492))
            ThreePointArc((1.190625, 12.3378845492), (6.7065841894, 10.4241408064), (10.734558085, 6.1976))
        make_face()
        with BuildLine():
            Line((-1.190625, 12.3378845492), (-1.190625, 95.242558303))
            ThreePointArc((-1.190625, 95.242558303), (-48.1396355971, 82.1896464561), (-82.4889197105, 47.625))
            Line((-82.4889197105, 47.625), (-10.734558085, 6.1976))
            ThreePointArc((-10.734558085, 6.1976), (-6.7065841894, 10.4241408064), (-1.190625, 12.3378845492))
        make_face()
        with BuildLine():
            Line((-10.734558085, 6.1976), (-82.4889197105, 47.625))
            ThreePointArc((-82.4889197105, 47.625), (-95.2481395576, 0.595324128), (-83.0777875119, -46.5901676551))
            Line((-83.0777875119, -46.5901676551), (-11.2802339486, -5.1378307782))
            ThreePointArc((-11.2802339486, -5.1378307782), (-12.3808628456, 0.5960018774), (-10.734558085, 6.1976))
        make_face()
    extrude(amount=F3_DEPTH)

    # F0 (on Front) → F4 (join)
    with BuildSketch(Plane.XZ):
        with BuildLine():
            ThreePointArc((-82.4889197105, -47.625), (-82.1896464561, -48.1396355971), (-81.8871625119, -48.6523906479))
            Line((-81.8871625119, -48.6523906479), (-10.0896089486, -7.200053771))
            ThreePointArc((-10.0896089486, -7.200053771), (-10.4241408064, -6.7065841894), (-10.734558085, -6.1976))
            Line((-10.734558085, -6.1976), (-82.4889197105, -47.625))
        make_face()
        with BuildLine():
            ThreePointArc((82.4889197105, -47.625), (82.7849705841, -47.1085039605), (83.0777875119, -46.5901676551))
            Line((83.0777875119, -46.5901676551), (11.2802339486, -5.1378307782))
            ThreePointArc((11.2802339486, -5.1378307782), (11.0201426838, -5.6742786563), (10.734558085, -6.1976))
            Line((10.734558085, -6.1976), (82.4889197105, -47.625))
        make_face()
        with BuildLine():
            Line((0, 12.3952), (0, 95.25))
            ThreePointArc((0, 95.25), (-0.595324128, 95.2481395576), (-1.190625, 95.242558303))
            Line((-1.190625, 95.242558303), (-1.190625, 12.3378845492))
            ThreePointArc((-1.190625, 12.3378845492), (-0.5960018774, 12.3808628456), (0, 12.3952))
        make_face()
        with BuildLine():
            ThreePointArc((2.8194, -15.2146), (1.9936168589, -17.2082168589), (0, -18.034))
            Line((0, -18.034), (2.8194, -18.034))
            Line((2.8194, -18.034), (2.8194, -15.2146))
        make_face()
        with BuildLine():
            Line((0, -16.7386), (0, -18.034))
            ThreePointArc((0, -18.034), (1.9936168589, -17.2082168589), (2.8194, -15.2146))
            ThreePointArc((2.8194, -15.2146), (2.6525372137, -14.2590568613), (2.1717, -13.4166190574))
            Line((2.1717, -13.4166190574), (2.1717, -14.5669))
            Line((2.1717, -14.5669), (2.1717, -16.7386))
            Line((2.1717, -16.7386), (0, -16.7386))
        make_face()
        with BuildLine():
            ThreePointArc((2.1717, -14.5669), (1.5356237967, -16.1025237967), (0, -16.7386))
            Line((0, -16.7386), (2.1717, -16.7386))
            Line((2.1717, -16.7386), (2.1717, -14.5669))
        make_face()
        with BuildLine():
            ThreePointArc((2.1717, -14.5669), (1.5356237967, -13.0312762033), (0, -12.3952))
            Line((0, -12.3952), (0, -16.7386))
            ThreePointArc((0, -16.7386), (1.5356237967, -16.1025237967), (2.1717, -14.5669))
        make_face()
        with BuildLine():
            ThreePointArc((2.1717, -13.4166190574), (1.199956018, -12.6633019157), (0, -12.3952))
            ThreePointArc((0, -12.3952), (1.5356237967, -13.0312762033), (2.1717, -14.5669))
            Line((2.1717, -14.5669), (2.1717, -13.4166190574))
        make_face()
        with BuildLine():
            Line((2.8194, -15.2146), (2.8194, -12.0702927338))
            ThreePointArc((2.8194, -12.0702927338), (2.4964382446, -12.1412017169), (2.1717, -12.2034709059))
            Line((2.1717, -12.2034709059), (2.1717, -13.4166190574))
            ThreePointArc((2.1717, -13.4166190574), (2.6525372137, -14.2590568613), (2.8194, -15.2146))
        make_face()
        with BuildLine():
            ThreePointArc((2.1717, -12.2034709059), (1.0900734993, -12.3471746892), (0, -12.3952))
            ThreePointArc((0, -12.3952), (1.199956018, -12.6633019157), (2.1717, -13.4166190574))
            Line((2.1717, -13.4166190574), (2.1717, -12.2034709059))
        make_face()
    extrude(amount=F4_DEPTH)

    # F0 (on Front) → F5 (join)
    with BuildSketch(Plane.XZ):
        with BuildLine():
            Line((-1.190625, 0.6874076643), (-1.190625, 12.3378845492))
            ThreePointArc((-1.190625, 12.3378845492), (-6.7065841894, 10.4241408064), (-10.734558085, 6.1976))
            Line((-10.734558085, 6.1976), (-1.190625, 0.6874076643))
        make_face()
        with BuildLine():
            Line((0, 0), (0, 12.3952))
            ThreePointArc((0, 12.3952), (-0.5960018774, 12.3808628456), (-1.190625, 12.3378845492))
            Line((-1.190625, 12.3378845492), (-1.190625, 0.6874076643))
            Line((-1.190625, 0.6874076643), (0, 0))
        make_face()
        with BuildLine():
            Line((1.190625, 0.6874076643), (1.190625, 12.3378845492))
            ThreePointArc((1.190625, 12.3378845492), (0.5960018774, 12.3808628456), (0, 12.3952))
            Line((0, 12.3952), (0, 0))
            Line((0, 0), (1.190625, 0.6874076643))
        make_face()
        with BuildLine():
            Line((1.190625, 0.6874076643), (10.734558085, 6.1976))
            ThreePointArc((10.734558085, 6.1976), (6.7065841894, 10.4241408064), (1.190625, 12.3378845492))
            Line((1.190625, 12.3378845492), (1.190625, 0.6874076643))
        make_face()
        with BuildLine():
            ThreePointArc((12.3952, 0), (11.972843802, 3.2081138279), (10.734558085, 6.1976))
            Line((10.734558085, 6.1976), (1.190625, 0.6874076643))
            Line((1.190625, 0.6874076643), (2.8194, -0.2529660204))
            Line((2.8194, -0.2529660204), (11.2802339486, -5.1378307782))
            ThreePointArc((11.2802339486, -5.1378307782), (12.1132518111, -2.6287094933), (12.3952, 0))
        make_face()
        Polygon((2.8194, -0.2529660204), (1.190625, 0.6874076643), (0, 0), (2.1717, -1.2538315796), (2.8194, -1.627781349), align=None)
        with BuildLine():
            ThreePointArc((10.734558085, -6.1976), (11.0201426838, -5.6742786563), (11.2802339486, -5.1378307782))
            Line((11.2802339486, -5.1378307782), (2.8194, -0.2529660204))
            Line((2.8194, -0.2529660204), (2.8194, -1.627781349))
            Line((2.8194, -1.627781349), (10.734558085, -6.1976))
        make_face()
        with BuildLine():
            ThreePointArc((10.0896089486, -7.200053771), (10.4241408064, -6.7065841894), (10.734558085, -6.1976))
            Line((10.734558085, -6.1976), (2.8194, -1.627781349))
            Line((2.8194, -1.627781349), (2.8194, -3.0025966775))
            Line((2.8194, -3.0025966775), (10.0896089486, -7.200053771))
        make_face()
        Polygon((2.1717, -1.2538315796), (0, 0), (0, -1.3748153285), (2.1717, -2.6286469081), align=None)
        Polygon((2.8194, -3.0025966775), (2.8194, -1.627781349), (2.1717, -1.2538315796), (2.1717, -2.6286469081), align=None)
        with BuildLine():
            ThreePointArc((2.8194, -12.0702927338), (6.8985820933, -10.2980846832), (10.0896089486, -7.200053771))
            Line((10.0896089486, -7.200053771), (2.8194, -3.0025966775))
            Line((2.8194, -3.0025966775), (2.8194, -12.0702927338))
        make_face()
        with BuildLine():
            ThreePointArc((2.1717, -12.2034709059), (2.4964382446, -12.1412017169), (2.8194, -12.0702927338))
            Line((2.8194, -12.0702927338), (2.8194, -3.0025966775))
            Line((2.8194, -3.0025966775), (2.1717, -2.6286469081))
            Line((2.1717, -2.6286469081), (2.1717, -12.2034709059))
        make_face()
        with BuildLine():
            Line((2.1717, -2.6286469081), (0, -1.3748153285))
            Line((0, -1.3748153285), (0, -12.3952))
            ThreePointArc((0, -12.3952), (1.0900734993, -12.3471746892), (2.1717, -12.2034709059))
            Line((2.1717, -12.2034709059), (2.1717, -2.6286469081))
        make_face()
        with BuildLine():
            Line((0, -12.3952), (0, -1.3748153285))
            Line((0, -1.3748153285), (-2.1717, -2.6286469081))
            Line((-2.1717, -2.6286469081), (-2.1717, -12.2034709059))
            ThreePointArc((-2.1717, -12.2034709059), (-1.0900734993, -12.3471746892), (0, -12.3952))
        make_face()
        Polygon((-2.1717, -1.2538315796), (0, 0), (-1.190625, 0.6874076643), (-2.8194, -0.2529660204), (-2.8194, -1.627781349), align=None)
        with BuildLine():
            Line((-2.8194, -3.0025966775), (-10.0896089486, -7.200053771))
            ThreePointArc((-10.0896089486, -7.200053771), (-6.8985820933, -10.2980846832), (-2.8194, -12.0702927338))
            Line((-2.8194, -12.0702927338), (-2.8194, -3.0025966775))
        make_face()
        with BuildLine():
            Line((-2.8194, -0.2529660204), (-1.190625, 0.6874076643))
            Line((-1.190625, 0.6874076643), (-10.734558085, 6.1976))
            ThreePointArc((-10.734558085, 6.1976), (-12.3808628456, 0.5960018774), (-11.2802339486, -5.1378307782))
            Line((-11.2802339486, -5.1378307782), (-2.8194, -0.2529660204))
        make_face()
        with BuildLine():
            Line((-2.1717, -12.2034709059), (-2.1717, -2.6286469081))
            Line((-2.1717, -2.6286469081), (-2.8194, -3.0025966775))
            Line((-2.8194, -3.0025966775), (-2.8194, -12.0702927338))
            ThreePointArc((-2.8194, -12.0702927338), (-2.4964382446, -12.1412017169), (-2.1717, -12.2034709059))
        make_face()
        Polygon((0, -1.3748153285), (0, 0), (-2.1717, -1.2538315796), (-2.1717, -2.6286469081), align=None)
        Polygon((-2.1717, -2.6286469081), (-2.1717, -1.2538315796), (-2.8194, -1.627781349), (-2.8194, -3.0025966775), align=None)
        with BuildLine():
            Line((-2.8194, -3.0025966775), (-2.8194, -1.627781349))
            Line((-2.8194, -1.627781349), (-10.734558085, -6.1976))
            ThreePointArc((-10.734558085, -6.1976), (-10.4241408064, -6.7065841894), (-10.0896089486, -7.200053771))
            Line((-10.0896089486, -7.200053771), (-2.8194, -3.0025966775))
        make_face()
        with BuildLine():
            Line((-10.734558085, -6.1976), (-2.8194, -1.627781349))
            Line((-2.8194, -1.627781349), (-2.8194, -0.2529660204))
            Line((-2.8194, -0.2529660204), (-11.2802339486, -5.1378307782))
            ThreePointArc((-11.2802339486, -5.1378307782), (-11.0201426838, -5.6742786563), (-10.734558085, -6.1976))
        make_face()
    extrude(amount=F5_DEPTH)


solid = f1.part
